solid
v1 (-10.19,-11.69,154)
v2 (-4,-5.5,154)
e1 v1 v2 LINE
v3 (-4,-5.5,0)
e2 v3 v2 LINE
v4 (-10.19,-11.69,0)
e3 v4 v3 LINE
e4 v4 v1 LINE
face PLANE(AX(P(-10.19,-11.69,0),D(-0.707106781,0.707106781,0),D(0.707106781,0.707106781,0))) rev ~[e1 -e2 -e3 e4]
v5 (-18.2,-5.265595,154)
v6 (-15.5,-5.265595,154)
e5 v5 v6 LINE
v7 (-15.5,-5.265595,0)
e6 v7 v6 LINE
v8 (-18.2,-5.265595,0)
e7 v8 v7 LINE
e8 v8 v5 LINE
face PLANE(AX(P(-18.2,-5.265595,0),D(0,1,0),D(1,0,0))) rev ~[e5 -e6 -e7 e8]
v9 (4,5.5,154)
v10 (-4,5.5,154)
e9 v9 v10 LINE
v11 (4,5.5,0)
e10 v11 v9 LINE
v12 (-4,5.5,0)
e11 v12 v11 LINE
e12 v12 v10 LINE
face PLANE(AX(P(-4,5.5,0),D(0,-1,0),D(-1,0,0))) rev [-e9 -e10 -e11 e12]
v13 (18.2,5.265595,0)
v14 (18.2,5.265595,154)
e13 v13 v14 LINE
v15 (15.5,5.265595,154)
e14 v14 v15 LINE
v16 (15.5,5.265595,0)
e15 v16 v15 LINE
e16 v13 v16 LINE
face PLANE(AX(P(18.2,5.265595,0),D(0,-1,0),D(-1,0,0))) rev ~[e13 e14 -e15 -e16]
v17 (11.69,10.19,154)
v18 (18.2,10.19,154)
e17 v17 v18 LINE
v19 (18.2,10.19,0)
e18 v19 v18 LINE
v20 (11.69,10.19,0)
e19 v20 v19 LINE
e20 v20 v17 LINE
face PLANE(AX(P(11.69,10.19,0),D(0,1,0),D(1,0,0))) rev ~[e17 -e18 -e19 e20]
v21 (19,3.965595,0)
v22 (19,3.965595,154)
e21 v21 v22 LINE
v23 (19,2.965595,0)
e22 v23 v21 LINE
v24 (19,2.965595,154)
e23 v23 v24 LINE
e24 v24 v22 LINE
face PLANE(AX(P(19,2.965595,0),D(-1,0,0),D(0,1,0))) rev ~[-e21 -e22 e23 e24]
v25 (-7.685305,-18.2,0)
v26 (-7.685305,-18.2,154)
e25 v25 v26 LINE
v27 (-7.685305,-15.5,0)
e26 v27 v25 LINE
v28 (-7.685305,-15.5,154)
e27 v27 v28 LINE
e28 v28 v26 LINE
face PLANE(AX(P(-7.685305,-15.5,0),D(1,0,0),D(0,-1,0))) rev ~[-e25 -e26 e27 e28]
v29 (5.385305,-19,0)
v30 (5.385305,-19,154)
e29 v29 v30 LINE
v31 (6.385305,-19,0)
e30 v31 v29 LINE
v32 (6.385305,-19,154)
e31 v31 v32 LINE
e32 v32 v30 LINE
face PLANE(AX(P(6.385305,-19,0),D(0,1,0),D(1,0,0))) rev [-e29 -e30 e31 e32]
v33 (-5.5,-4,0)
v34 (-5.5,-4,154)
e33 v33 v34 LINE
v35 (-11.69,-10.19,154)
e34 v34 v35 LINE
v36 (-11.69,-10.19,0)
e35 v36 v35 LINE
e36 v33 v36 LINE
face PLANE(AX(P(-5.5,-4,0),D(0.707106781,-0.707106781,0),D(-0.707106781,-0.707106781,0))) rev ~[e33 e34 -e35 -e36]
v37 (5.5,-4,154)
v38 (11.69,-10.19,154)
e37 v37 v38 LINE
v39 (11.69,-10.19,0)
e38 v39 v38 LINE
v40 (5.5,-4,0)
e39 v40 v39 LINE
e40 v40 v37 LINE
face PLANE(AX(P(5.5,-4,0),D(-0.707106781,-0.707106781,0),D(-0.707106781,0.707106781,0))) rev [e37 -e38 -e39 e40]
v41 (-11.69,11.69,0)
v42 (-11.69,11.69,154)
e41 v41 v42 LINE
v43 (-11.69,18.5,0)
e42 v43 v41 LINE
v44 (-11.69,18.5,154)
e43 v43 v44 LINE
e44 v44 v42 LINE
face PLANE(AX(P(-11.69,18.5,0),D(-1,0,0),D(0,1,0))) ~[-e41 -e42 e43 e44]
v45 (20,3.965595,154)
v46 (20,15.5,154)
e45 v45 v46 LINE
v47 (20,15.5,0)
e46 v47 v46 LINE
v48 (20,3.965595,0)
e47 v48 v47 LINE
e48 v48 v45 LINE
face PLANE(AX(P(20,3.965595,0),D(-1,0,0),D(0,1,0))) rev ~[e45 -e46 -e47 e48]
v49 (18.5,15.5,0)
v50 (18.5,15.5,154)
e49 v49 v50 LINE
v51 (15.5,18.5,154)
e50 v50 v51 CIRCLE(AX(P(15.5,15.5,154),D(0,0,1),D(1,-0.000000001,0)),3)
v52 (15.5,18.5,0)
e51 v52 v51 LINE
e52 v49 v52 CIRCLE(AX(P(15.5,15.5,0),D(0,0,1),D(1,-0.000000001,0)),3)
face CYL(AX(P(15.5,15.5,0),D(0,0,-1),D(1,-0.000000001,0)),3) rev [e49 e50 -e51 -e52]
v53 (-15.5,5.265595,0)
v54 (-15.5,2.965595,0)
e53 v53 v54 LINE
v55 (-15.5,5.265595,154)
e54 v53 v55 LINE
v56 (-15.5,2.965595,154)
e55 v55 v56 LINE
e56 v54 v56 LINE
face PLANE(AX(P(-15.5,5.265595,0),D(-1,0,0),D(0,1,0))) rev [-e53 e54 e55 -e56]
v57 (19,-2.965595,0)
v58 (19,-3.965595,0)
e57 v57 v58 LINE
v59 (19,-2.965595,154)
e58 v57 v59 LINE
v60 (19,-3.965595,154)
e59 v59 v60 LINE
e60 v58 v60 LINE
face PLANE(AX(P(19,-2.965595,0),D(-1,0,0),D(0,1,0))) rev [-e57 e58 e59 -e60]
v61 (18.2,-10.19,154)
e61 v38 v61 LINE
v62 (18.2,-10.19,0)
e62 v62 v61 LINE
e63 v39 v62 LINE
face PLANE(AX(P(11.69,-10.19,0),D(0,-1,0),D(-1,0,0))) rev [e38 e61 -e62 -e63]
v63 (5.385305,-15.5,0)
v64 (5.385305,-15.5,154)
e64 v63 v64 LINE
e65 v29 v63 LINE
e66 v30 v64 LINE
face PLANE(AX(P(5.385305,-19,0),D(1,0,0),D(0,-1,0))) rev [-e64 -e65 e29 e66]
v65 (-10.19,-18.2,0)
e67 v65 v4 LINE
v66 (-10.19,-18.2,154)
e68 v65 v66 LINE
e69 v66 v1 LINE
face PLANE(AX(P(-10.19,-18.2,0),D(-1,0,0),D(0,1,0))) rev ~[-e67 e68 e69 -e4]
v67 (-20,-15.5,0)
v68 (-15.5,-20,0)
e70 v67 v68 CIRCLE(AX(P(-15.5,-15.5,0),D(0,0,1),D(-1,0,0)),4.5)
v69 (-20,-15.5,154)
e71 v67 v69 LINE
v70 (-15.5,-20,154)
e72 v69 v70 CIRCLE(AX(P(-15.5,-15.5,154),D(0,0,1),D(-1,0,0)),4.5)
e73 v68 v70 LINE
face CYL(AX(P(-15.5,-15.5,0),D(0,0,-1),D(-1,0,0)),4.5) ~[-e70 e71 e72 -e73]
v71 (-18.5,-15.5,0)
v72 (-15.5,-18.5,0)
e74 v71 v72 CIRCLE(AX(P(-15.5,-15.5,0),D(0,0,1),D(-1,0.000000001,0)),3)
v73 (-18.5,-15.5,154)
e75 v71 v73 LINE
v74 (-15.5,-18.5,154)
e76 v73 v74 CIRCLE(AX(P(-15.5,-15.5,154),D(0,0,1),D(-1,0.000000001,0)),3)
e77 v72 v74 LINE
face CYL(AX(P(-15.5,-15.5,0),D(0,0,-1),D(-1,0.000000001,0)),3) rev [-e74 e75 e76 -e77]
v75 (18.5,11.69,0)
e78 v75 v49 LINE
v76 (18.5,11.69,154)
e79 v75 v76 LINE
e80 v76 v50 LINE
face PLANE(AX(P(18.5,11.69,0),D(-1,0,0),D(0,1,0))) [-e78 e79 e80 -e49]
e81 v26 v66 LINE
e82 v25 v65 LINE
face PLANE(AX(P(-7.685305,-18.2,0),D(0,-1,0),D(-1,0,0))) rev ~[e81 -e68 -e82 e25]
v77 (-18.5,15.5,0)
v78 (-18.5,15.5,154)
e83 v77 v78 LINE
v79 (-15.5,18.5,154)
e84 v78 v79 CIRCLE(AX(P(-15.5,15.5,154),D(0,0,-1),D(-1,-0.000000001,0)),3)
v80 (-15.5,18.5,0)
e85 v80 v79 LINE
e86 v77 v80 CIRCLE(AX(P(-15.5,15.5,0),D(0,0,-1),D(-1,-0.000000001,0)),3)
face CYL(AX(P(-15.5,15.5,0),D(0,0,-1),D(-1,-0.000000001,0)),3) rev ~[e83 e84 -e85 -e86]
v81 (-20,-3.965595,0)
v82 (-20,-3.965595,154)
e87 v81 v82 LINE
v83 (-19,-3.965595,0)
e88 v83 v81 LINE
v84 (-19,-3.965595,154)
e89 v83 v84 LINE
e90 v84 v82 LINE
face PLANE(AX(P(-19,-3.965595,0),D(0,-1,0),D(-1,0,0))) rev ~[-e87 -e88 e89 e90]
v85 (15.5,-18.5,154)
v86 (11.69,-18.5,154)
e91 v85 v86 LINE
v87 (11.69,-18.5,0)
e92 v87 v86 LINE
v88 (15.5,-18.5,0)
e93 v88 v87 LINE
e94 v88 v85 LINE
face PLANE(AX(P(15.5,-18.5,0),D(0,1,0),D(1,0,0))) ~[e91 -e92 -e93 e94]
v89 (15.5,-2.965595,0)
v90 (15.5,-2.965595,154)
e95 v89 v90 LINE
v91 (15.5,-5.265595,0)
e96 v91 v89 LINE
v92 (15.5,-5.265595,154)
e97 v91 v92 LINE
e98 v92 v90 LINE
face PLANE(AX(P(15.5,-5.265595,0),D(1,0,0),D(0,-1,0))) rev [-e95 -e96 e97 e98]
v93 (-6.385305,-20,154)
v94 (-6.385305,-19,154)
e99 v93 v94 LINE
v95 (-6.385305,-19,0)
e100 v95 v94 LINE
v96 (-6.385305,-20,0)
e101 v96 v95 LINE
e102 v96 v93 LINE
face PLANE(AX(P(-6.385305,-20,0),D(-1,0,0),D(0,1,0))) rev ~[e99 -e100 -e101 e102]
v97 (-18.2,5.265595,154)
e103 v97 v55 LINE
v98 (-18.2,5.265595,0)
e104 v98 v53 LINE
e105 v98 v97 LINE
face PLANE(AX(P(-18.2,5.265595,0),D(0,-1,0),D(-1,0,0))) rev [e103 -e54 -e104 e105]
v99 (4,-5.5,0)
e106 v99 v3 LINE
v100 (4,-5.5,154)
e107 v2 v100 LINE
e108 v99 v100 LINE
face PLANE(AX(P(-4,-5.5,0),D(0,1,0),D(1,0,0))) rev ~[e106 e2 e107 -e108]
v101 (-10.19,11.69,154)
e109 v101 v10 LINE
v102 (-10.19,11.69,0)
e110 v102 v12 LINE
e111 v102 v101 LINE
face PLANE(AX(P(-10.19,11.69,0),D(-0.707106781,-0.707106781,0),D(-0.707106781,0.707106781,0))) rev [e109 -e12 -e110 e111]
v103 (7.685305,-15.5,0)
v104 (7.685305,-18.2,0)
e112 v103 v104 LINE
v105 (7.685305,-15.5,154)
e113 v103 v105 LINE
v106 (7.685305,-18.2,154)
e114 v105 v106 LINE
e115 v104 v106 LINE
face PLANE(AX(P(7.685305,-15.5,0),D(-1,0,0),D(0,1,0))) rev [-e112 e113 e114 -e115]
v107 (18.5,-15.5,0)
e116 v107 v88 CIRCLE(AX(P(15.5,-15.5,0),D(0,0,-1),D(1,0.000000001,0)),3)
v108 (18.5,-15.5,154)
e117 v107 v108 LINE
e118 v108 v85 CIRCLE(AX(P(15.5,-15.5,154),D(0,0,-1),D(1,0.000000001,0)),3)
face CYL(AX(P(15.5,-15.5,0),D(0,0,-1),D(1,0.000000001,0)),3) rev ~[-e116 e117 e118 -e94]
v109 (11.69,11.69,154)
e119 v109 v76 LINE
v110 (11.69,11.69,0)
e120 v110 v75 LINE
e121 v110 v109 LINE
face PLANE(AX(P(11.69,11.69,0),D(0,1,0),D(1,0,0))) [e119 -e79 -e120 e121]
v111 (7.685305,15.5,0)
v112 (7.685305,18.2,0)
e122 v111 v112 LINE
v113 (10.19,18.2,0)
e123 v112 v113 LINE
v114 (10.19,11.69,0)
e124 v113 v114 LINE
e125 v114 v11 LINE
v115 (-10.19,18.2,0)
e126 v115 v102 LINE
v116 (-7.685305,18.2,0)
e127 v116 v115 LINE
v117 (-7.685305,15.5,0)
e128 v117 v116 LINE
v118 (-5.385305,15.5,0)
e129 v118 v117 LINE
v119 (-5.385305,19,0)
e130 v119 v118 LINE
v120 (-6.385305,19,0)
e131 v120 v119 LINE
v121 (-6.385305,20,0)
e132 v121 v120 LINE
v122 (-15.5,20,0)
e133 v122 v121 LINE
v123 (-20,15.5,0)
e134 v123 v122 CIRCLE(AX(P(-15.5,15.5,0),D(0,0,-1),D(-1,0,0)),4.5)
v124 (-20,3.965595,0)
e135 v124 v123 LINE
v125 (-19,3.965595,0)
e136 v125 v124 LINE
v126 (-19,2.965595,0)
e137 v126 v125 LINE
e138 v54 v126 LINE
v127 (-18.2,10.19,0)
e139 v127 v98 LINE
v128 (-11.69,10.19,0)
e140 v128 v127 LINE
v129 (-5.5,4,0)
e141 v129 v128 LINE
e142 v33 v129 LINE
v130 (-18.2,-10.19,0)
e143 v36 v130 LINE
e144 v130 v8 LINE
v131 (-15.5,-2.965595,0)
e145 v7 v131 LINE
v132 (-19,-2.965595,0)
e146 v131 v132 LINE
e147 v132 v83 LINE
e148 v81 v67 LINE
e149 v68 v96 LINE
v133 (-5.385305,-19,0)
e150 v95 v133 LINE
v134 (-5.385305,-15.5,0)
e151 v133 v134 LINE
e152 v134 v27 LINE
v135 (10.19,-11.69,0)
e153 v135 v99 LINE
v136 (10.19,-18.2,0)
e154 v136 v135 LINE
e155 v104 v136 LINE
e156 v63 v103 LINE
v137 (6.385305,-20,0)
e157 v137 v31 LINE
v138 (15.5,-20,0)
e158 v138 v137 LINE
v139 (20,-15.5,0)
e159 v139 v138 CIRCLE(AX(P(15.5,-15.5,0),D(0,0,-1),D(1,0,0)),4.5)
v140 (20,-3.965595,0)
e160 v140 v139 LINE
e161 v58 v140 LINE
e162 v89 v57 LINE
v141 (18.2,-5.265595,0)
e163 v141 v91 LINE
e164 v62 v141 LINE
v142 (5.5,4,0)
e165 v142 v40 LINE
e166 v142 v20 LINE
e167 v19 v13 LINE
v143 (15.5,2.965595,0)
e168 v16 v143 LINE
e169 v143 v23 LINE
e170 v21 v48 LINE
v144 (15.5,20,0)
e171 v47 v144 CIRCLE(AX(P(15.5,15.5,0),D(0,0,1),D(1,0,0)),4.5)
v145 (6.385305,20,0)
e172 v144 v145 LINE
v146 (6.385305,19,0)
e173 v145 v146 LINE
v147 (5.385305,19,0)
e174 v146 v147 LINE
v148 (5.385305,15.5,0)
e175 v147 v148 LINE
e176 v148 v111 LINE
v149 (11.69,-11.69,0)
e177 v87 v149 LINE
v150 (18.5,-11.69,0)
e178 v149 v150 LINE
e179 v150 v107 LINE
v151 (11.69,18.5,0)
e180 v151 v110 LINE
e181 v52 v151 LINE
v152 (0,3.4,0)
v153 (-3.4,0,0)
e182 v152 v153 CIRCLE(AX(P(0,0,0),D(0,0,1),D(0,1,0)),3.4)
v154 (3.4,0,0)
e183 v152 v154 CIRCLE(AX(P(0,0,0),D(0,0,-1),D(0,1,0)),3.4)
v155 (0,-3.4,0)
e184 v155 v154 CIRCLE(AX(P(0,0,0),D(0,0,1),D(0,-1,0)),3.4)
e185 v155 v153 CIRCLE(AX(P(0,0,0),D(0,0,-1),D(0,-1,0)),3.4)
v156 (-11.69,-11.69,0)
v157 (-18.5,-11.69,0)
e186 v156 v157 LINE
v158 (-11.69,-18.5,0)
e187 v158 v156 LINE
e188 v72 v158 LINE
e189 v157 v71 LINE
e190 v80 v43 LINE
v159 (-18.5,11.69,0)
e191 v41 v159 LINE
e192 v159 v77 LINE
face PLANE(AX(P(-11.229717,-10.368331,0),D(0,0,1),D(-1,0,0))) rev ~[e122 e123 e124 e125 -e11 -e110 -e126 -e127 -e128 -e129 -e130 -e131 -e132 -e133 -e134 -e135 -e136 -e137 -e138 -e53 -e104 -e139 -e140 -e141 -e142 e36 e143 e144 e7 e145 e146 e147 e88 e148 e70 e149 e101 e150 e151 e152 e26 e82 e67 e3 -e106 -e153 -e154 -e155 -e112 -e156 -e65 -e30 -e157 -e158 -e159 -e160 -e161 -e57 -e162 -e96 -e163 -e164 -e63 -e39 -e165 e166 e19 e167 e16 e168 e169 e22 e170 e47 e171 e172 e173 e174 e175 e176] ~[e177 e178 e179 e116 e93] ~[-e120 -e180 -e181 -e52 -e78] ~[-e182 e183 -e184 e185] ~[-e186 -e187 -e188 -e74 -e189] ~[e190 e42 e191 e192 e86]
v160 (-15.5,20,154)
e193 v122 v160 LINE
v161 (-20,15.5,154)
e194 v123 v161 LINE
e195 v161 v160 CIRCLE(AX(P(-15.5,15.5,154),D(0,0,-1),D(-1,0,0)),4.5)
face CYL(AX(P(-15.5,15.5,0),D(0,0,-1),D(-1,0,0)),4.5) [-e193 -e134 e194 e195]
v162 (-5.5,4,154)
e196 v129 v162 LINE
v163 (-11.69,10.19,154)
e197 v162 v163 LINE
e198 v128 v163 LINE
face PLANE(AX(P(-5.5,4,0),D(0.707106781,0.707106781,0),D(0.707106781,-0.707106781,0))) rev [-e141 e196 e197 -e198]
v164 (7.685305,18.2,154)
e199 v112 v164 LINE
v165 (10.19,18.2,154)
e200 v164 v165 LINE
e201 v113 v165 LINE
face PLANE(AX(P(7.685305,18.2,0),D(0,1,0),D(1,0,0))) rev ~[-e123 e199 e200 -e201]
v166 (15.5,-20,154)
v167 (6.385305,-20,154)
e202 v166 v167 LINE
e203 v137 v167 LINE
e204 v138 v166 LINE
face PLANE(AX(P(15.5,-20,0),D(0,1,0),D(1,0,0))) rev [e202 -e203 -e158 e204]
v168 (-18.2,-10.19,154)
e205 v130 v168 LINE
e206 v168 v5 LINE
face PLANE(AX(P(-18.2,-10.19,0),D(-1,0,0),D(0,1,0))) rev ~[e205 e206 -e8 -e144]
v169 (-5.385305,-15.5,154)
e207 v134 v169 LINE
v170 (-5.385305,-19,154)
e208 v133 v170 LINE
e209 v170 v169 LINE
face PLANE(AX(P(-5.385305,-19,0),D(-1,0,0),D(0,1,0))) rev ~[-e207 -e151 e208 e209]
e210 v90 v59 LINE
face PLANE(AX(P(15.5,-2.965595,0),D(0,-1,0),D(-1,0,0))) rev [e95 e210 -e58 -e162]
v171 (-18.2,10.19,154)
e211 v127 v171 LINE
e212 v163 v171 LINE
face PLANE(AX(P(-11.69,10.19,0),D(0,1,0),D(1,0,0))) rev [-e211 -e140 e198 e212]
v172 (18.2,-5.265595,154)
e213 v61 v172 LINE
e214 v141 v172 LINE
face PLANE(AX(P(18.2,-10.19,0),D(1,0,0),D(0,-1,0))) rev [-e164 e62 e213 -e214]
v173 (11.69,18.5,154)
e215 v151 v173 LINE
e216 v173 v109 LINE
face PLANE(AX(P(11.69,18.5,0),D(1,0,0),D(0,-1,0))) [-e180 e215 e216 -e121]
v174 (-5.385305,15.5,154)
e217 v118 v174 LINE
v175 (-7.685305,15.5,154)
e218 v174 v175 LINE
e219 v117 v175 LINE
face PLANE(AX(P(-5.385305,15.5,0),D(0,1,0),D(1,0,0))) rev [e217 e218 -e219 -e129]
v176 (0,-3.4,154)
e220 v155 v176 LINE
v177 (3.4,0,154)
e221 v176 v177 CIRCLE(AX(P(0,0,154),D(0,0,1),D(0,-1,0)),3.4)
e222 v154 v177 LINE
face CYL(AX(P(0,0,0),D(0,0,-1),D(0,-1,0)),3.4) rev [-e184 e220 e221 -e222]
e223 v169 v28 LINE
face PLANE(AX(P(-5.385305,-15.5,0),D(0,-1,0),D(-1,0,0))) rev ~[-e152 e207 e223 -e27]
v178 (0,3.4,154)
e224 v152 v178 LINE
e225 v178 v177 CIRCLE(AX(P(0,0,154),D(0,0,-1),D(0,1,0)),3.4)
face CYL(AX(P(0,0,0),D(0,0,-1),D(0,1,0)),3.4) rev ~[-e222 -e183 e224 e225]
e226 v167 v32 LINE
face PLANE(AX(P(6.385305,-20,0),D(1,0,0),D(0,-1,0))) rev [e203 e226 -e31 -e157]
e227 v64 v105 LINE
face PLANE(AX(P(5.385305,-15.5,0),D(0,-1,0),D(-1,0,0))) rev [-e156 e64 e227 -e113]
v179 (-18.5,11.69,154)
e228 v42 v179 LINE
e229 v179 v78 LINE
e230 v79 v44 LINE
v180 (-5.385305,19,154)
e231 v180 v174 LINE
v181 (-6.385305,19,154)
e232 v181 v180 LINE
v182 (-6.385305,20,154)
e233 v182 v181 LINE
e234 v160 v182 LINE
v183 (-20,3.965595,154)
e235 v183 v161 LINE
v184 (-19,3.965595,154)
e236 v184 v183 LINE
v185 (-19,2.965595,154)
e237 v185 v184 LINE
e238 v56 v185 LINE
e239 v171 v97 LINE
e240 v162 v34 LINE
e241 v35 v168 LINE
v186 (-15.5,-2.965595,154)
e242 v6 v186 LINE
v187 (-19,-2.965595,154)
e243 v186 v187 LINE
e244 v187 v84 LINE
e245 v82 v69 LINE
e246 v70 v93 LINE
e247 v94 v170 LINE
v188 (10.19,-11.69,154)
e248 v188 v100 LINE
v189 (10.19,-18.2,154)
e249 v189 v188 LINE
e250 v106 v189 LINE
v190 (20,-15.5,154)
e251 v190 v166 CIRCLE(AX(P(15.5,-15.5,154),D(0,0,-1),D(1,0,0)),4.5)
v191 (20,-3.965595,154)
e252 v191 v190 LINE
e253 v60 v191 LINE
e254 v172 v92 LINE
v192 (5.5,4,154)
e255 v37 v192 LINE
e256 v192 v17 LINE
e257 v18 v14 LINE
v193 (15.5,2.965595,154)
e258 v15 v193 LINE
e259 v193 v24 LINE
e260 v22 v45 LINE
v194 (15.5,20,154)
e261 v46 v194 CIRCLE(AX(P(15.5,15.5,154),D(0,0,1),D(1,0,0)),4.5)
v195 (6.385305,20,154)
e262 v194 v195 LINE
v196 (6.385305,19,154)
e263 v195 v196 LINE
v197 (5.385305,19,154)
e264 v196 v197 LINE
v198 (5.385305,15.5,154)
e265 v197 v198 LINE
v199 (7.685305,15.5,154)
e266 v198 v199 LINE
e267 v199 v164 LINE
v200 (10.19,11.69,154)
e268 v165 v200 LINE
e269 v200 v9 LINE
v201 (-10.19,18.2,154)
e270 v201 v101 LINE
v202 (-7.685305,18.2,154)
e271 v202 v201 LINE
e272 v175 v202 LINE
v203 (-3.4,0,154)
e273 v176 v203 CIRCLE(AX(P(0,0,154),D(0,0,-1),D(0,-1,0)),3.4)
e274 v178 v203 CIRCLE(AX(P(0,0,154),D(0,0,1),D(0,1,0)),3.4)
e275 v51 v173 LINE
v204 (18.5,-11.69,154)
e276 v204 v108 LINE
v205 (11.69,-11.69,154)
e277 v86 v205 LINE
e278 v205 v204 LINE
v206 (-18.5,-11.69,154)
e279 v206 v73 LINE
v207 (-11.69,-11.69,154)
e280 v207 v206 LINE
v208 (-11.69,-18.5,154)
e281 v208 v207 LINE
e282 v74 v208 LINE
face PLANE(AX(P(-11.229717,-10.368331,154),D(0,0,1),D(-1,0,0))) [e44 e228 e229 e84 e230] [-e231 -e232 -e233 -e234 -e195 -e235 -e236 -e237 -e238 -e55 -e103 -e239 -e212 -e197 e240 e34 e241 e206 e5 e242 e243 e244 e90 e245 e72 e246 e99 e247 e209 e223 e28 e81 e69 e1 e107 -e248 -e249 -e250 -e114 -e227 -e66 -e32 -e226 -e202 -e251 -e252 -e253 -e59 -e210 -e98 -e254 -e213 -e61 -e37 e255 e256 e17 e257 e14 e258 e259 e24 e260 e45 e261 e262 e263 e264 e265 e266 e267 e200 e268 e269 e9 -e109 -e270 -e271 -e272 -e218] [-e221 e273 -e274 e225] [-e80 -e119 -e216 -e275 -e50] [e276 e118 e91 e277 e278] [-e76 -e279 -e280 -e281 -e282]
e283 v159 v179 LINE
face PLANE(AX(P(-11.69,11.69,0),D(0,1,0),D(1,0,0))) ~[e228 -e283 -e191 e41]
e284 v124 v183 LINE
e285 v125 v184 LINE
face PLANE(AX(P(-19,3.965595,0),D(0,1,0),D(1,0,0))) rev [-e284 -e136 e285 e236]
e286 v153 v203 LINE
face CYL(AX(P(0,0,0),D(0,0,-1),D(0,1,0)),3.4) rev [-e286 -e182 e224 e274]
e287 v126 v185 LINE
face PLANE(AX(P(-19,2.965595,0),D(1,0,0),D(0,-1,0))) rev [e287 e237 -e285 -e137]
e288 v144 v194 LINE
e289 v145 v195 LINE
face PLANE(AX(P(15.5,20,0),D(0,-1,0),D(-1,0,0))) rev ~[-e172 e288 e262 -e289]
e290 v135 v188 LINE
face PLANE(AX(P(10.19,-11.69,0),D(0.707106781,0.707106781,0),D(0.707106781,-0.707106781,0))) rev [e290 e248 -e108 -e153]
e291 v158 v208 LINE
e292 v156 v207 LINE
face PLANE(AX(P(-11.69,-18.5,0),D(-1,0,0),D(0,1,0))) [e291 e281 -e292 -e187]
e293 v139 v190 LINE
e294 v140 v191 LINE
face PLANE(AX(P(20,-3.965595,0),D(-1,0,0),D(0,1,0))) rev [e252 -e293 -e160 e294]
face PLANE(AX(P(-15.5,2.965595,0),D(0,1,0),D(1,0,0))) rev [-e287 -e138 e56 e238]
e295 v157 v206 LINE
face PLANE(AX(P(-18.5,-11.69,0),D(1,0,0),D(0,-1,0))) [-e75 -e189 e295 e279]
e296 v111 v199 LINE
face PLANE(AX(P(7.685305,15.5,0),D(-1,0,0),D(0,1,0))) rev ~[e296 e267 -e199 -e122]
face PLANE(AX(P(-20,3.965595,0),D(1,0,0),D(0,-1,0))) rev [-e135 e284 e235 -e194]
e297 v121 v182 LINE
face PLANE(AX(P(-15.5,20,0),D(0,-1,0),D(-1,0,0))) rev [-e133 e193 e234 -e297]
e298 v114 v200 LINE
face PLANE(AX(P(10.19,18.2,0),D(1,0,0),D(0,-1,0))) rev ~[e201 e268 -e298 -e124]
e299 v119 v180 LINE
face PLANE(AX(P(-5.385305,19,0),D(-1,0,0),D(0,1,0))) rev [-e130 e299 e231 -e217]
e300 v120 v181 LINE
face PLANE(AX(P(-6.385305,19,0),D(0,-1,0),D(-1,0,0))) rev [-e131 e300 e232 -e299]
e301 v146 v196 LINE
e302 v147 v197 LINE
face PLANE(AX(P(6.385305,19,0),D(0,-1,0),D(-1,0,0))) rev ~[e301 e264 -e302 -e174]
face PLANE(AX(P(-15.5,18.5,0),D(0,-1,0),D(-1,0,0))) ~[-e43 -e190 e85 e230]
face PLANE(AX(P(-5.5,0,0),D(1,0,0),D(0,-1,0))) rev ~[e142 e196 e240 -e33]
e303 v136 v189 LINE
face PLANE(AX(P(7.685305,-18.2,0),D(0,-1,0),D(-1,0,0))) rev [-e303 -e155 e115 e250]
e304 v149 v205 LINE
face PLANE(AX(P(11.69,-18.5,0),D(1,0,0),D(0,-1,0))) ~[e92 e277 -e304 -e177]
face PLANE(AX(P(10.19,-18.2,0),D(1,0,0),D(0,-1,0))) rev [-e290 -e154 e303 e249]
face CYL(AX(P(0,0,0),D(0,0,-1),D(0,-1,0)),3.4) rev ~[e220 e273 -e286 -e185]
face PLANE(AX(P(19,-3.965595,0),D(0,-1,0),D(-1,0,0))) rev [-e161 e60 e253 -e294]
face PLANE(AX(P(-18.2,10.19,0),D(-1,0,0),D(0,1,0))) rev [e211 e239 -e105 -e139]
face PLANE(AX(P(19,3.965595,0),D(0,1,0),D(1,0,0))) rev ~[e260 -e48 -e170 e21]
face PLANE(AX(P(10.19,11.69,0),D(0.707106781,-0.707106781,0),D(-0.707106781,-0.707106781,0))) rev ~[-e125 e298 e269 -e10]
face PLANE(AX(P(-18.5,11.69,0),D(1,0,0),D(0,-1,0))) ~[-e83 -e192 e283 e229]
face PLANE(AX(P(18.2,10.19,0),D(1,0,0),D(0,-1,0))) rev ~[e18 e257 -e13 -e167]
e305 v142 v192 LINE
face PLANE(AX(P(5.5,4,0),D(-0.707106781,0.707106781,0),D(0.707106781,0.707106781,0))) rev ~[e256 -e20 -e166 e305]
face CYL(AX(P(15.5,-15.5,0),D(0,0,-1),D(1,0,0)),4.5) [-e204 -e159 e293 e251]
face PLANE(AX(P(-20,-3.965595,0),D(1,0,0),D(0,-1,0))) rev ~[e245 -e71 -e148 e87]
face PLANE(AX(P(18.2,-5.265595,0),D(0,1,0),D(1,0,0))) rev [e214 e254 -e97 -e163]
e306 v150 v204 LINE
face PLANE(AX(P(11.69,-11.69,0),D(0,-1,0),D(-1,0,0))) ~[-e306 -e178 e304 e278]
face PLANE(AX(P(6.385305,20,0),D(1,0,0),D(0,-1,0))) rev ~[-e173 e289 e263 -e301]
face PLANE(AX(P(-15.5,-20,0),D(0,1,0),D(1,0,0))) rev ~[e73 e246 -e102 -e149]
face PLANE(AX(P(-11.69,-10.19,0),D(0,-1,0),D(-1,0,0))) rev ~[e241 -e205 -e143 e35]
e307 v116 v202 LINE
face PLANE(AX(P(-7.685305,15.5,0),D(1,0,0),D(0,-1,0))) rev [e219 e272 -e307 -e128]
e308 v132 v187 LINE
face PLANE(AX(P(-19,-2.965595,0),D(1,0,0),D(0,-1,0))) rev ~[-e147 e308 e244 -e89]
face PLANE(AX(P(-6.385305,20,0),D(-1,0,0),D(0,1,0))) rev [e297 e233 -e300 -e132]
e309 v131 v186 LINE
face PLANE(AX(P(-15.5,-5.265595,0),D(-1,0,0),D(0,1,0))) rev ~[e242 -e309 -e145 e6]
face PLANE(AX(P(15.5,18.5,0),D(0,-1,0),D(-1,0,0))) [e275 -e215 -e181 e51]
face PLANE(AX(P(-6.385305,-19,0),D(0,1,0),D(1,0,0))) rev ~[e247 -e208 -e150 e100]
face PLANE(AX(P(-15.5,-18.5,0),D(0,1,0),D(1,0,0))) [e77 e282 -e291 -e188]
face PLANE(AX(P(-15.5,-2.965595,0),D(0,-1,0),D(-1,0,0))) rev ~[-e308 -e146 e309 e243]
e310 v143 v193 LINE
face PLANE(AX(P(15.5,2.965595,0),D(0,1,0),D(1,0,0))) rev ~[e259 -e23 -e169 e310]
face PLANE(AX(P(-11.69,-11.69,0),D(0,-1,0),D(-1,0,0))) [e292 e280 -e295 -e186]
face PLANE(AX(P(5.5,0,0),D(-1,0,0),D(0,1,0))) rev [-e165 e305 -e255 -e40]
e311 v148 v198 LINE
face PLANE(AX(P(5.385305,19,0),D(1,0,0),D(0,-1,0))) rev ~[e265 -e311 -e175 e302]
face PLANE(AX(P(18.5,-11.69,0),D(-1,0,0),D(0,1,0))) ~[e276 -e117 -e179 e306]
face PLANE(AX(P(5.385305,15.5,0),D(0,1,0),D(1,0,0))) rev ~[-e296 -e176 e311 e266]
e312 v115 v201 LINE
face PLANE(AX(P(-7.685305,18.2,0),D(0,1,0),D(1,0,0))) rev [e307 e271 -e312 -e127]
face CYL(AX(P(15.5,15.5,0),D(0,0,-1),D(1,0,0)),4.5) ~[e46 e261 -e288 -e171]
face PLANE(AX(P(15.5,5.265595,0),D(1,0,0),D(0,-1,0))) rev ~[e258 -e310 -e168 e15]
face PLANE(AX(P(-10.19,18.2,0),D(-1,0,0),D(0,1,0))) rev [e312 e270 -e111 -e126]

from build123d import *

# Parameters (mm, degrees)
BOSS_EXTRUDE1_DEPTH  = 154
MIRROR3_COPY_1_DEPTH = 154
MIRROR3_COPY_2_DEPTH = 154


with BuildPart() as part:
    # Sketch1 → Boss-Extrude1 (new body)
    with BuildSketch(Plane.XY):
        with BuildLine():
            Line((3.4, 0), (5.5, 0))
            Line((5.5, 0), (5.5, 4))
            Line((5.5, 4), (11.69, 10.19))
            Line((11.69, 10.19), (18.2, 10.19))
            Line((18.2, 10.19), (18.2, 5.265595036))
            Line((18.2, 5.265595036), (15.5, 5.265595036))
            Line((15.5, 5.265595036), (15.5, 2.965595036))
            Line((15.5, 2.965595036), (19, 2.965595036))
            Line((19, 2.965595036), (19, 3.965595036))
            Line((19, 3.965595036), (20, 3.965595036))
            Line((20, 3.965595036), (20, 15.5))
            ThreePointArc((20, 15.5), (18.681980515, 18.681980515), (15.5, 20))
            Line((15.5, 20), (6.385304712, 20))
            Line((6.385304712, 20), (6.385304712, 19))
            Line((6.385304712, 19), (5.385304712, 19))
            Line((5.385304712, 19), (5.385304712, 15.5))
            Line((5.385304712, 15.5), (7.685304712, 15.5))
            Line((7.685304712, 15.5), (7.685304712, 18.2))
            Line((7.685304712, 18.2), (10.19, 18.2))
            Line((10.19, 18.2), (10.19, 11.69))
            Line((10.19, 11.69), (4, 5.5))
            Line((4, 5.5), (0, 5.5))
            Line((0, 5.5), (0, 3.4))
            ThreePointArc((0, 3.4), (2.404163056, 2.404163056), (3.4, 0))
        make_face()
        with BuildLine():
            Line((18.5, 11.69), (18.5, 15.5))
            ThreePointArc((18.5, 15.5), (17.621320344, 17.621320344), (15.5, 18.5))
            Line((15.5, 18.5), (11.69, 18.5))
            Line((11.69, 18.5), (11.69, 11.69))
            Line((11.69, 11.69), (18.5, 11.69))
        make_face(mode=Mode.SUBTRACT)
    boss_extrude1 = extrude(amount=BOSS_EXTRUDE1_DEPTH)

    # Mirror1: Boss-Extrude1 across plane
    add(boss_extrude1.mirror(Plane.ZX))

    # Mirror2: Boss-Extrude1 across plane
    add(boss_extrude1.mirror(Plane(origin=(0, 0, 0), x_dir=(0, 0, 1), z_dir=(1, 0, 0))))

    # Mirror3 copy 1 sketch → Mirror3 copy 1 (add)
    with BuildSketch(Plane(origin=(0, 0, 0), x_dir=(-1, 0, 0), z_dir=(0, 0, 1))):
        with BuildLine():
            Line((3.4, 0), (5.5, 0))
            Line((5.5, 0), (5.5, 4))
            Line((5.5, 4), (11.69, 10.19))
            Line((11.69, 10.19), (18.2, 10.19))
            Line((18.2, 10.19), (18.2, 5.265595036))
            Line((18.2, 5.265595036), (15.5, 5.265595036))
            Line((15.5, 5.265595036), (15.5, 2.965595036))
            Line((15.5, 2.965595036), (19, 2.965595036))
            Line((19, 2.965595036), (19, 3.965595036))
            Line((19, 3.965595036), (20, 3.965595036))
            Line((20, 3.965595036), (20, 15.5))
            ThreePointArc((20, 15.5), (18.681980515, 18.681980515), (15.5, 20))
            Line((15.5, 20), (6.385304712, 20))
            Line((6.385304712, 20), (6.385304712, 19))
            Line((6.385304712, 19), (5.385304712, 19))
            Line((5.385304712, 19), (5.385304712, 15.5))
            Line((5.385304712, 15.5), (7.685304712, 15.5))
            Line((7.685304712, 15.5), (7.685304712, 18.2))
            Line((7.685304712, 18.2), (10.19, 18.2))
            Line((10.19, 18.2), (10.19, 11.69))
            Line((10.19, 11.69), (4, 5.5))
            Line((4, 5.5), (0, 5.5))
            Line((0, 5.5), (0, 3.4))
            ThreePointArc((0, 3.4), (2.404163056, 2.404163056), (3.4, 0))
        make_face()
        with BuildLine():
            Line((18.5, 11.69), (18.5, 15.5))
            ThreePointArc((18.5, 15.5), (17.621320344, 17.621320344), (15.5, 18.5))
            Line((15.5, 18.5), (11.69, 18.5))
            Line((11.69, 18.5), (11.69, 11.69))
            Line((11.69, 11.69), (18.5, 11.69))
        make_face(mode=Mode.SUBTRACT)
    extrude(amount=MIRROR3_COPY_1_DEPTH)

    # Mirror3 copy 2 sketch → Mirror3 copy 2 (add)
    with BuildSketch(Plane.XY):
        with BuildLine():
            Line((3.4, 0), (5.5, 0))
            Line((5.5, 0), (5.5, -4))
            Line((5.5, -4), (11.69, -10.19))
            Line((11.69, -10.19), (18.2, -10.19))
            Line((18.2, -10.19), (18.2, -5.265595036))
            Line((18.2, -5.265595036), (15.5, -5.265595036))
            Line((15.5, -5.265595036), (15.5, -2.965595036))
            Line((15.5, -2.965595036), (19, -2.965595036))
            Line((19, -2.965595036), (19, -3.965595036))
            Line((19, -3.965595036), (20, -3.965595036))
            Line((20, -3.965595036), (20, -15.5))
            ThreePointArc((20, -15.5), (18.681980515, -18.681980515), (15.5, -20))
            Line((15.5, -20), (6.385304712, -20))
            Line((6.385304712, -20), (6.385304712, -19))
            Line((6.385304712, -19), (5.385304712, -19))
            Line((5.385304712, -19), (5.385304712, -15.5))
            Line((5.385304712, -15.5), (7.685304712, -15.5))
            Line((7.685304712, -15.5), (7.685304712, -18.2))
            Line((7.685304712, -18.2), (10.19, -18.2))
            Line((10.19, -18.2), (10.19, -11.69))
            Line((10.19, -11.69), (4, -5.5))
            Line((4, -5.5), (0, -5.5))
            Line((0, -5.5), (0, -3.4))
            ThreePointArc((0, -3.4), (2.404163056, -2.404163056), (3.4, 0))
        make_face()
        with BuildLine():
            Line((18.5, -11.69), (18.5, -15.5))
            ThreePointArc((18.5, -15.5), (17.621320344, -17.621320344), (15.5, -18.5))
            Line((15.5, -18.5), (11.69, -18.5))
            Line((11.69, -18.5), (11.69, -11.69))
            Line((11.69, -11.69), (18.5, -11.69))
        make_face(mode=Mode.SUBTRACT)
    extrude(amount=MIRROR3_COPY_2_DEPTH)


solid = part.part
